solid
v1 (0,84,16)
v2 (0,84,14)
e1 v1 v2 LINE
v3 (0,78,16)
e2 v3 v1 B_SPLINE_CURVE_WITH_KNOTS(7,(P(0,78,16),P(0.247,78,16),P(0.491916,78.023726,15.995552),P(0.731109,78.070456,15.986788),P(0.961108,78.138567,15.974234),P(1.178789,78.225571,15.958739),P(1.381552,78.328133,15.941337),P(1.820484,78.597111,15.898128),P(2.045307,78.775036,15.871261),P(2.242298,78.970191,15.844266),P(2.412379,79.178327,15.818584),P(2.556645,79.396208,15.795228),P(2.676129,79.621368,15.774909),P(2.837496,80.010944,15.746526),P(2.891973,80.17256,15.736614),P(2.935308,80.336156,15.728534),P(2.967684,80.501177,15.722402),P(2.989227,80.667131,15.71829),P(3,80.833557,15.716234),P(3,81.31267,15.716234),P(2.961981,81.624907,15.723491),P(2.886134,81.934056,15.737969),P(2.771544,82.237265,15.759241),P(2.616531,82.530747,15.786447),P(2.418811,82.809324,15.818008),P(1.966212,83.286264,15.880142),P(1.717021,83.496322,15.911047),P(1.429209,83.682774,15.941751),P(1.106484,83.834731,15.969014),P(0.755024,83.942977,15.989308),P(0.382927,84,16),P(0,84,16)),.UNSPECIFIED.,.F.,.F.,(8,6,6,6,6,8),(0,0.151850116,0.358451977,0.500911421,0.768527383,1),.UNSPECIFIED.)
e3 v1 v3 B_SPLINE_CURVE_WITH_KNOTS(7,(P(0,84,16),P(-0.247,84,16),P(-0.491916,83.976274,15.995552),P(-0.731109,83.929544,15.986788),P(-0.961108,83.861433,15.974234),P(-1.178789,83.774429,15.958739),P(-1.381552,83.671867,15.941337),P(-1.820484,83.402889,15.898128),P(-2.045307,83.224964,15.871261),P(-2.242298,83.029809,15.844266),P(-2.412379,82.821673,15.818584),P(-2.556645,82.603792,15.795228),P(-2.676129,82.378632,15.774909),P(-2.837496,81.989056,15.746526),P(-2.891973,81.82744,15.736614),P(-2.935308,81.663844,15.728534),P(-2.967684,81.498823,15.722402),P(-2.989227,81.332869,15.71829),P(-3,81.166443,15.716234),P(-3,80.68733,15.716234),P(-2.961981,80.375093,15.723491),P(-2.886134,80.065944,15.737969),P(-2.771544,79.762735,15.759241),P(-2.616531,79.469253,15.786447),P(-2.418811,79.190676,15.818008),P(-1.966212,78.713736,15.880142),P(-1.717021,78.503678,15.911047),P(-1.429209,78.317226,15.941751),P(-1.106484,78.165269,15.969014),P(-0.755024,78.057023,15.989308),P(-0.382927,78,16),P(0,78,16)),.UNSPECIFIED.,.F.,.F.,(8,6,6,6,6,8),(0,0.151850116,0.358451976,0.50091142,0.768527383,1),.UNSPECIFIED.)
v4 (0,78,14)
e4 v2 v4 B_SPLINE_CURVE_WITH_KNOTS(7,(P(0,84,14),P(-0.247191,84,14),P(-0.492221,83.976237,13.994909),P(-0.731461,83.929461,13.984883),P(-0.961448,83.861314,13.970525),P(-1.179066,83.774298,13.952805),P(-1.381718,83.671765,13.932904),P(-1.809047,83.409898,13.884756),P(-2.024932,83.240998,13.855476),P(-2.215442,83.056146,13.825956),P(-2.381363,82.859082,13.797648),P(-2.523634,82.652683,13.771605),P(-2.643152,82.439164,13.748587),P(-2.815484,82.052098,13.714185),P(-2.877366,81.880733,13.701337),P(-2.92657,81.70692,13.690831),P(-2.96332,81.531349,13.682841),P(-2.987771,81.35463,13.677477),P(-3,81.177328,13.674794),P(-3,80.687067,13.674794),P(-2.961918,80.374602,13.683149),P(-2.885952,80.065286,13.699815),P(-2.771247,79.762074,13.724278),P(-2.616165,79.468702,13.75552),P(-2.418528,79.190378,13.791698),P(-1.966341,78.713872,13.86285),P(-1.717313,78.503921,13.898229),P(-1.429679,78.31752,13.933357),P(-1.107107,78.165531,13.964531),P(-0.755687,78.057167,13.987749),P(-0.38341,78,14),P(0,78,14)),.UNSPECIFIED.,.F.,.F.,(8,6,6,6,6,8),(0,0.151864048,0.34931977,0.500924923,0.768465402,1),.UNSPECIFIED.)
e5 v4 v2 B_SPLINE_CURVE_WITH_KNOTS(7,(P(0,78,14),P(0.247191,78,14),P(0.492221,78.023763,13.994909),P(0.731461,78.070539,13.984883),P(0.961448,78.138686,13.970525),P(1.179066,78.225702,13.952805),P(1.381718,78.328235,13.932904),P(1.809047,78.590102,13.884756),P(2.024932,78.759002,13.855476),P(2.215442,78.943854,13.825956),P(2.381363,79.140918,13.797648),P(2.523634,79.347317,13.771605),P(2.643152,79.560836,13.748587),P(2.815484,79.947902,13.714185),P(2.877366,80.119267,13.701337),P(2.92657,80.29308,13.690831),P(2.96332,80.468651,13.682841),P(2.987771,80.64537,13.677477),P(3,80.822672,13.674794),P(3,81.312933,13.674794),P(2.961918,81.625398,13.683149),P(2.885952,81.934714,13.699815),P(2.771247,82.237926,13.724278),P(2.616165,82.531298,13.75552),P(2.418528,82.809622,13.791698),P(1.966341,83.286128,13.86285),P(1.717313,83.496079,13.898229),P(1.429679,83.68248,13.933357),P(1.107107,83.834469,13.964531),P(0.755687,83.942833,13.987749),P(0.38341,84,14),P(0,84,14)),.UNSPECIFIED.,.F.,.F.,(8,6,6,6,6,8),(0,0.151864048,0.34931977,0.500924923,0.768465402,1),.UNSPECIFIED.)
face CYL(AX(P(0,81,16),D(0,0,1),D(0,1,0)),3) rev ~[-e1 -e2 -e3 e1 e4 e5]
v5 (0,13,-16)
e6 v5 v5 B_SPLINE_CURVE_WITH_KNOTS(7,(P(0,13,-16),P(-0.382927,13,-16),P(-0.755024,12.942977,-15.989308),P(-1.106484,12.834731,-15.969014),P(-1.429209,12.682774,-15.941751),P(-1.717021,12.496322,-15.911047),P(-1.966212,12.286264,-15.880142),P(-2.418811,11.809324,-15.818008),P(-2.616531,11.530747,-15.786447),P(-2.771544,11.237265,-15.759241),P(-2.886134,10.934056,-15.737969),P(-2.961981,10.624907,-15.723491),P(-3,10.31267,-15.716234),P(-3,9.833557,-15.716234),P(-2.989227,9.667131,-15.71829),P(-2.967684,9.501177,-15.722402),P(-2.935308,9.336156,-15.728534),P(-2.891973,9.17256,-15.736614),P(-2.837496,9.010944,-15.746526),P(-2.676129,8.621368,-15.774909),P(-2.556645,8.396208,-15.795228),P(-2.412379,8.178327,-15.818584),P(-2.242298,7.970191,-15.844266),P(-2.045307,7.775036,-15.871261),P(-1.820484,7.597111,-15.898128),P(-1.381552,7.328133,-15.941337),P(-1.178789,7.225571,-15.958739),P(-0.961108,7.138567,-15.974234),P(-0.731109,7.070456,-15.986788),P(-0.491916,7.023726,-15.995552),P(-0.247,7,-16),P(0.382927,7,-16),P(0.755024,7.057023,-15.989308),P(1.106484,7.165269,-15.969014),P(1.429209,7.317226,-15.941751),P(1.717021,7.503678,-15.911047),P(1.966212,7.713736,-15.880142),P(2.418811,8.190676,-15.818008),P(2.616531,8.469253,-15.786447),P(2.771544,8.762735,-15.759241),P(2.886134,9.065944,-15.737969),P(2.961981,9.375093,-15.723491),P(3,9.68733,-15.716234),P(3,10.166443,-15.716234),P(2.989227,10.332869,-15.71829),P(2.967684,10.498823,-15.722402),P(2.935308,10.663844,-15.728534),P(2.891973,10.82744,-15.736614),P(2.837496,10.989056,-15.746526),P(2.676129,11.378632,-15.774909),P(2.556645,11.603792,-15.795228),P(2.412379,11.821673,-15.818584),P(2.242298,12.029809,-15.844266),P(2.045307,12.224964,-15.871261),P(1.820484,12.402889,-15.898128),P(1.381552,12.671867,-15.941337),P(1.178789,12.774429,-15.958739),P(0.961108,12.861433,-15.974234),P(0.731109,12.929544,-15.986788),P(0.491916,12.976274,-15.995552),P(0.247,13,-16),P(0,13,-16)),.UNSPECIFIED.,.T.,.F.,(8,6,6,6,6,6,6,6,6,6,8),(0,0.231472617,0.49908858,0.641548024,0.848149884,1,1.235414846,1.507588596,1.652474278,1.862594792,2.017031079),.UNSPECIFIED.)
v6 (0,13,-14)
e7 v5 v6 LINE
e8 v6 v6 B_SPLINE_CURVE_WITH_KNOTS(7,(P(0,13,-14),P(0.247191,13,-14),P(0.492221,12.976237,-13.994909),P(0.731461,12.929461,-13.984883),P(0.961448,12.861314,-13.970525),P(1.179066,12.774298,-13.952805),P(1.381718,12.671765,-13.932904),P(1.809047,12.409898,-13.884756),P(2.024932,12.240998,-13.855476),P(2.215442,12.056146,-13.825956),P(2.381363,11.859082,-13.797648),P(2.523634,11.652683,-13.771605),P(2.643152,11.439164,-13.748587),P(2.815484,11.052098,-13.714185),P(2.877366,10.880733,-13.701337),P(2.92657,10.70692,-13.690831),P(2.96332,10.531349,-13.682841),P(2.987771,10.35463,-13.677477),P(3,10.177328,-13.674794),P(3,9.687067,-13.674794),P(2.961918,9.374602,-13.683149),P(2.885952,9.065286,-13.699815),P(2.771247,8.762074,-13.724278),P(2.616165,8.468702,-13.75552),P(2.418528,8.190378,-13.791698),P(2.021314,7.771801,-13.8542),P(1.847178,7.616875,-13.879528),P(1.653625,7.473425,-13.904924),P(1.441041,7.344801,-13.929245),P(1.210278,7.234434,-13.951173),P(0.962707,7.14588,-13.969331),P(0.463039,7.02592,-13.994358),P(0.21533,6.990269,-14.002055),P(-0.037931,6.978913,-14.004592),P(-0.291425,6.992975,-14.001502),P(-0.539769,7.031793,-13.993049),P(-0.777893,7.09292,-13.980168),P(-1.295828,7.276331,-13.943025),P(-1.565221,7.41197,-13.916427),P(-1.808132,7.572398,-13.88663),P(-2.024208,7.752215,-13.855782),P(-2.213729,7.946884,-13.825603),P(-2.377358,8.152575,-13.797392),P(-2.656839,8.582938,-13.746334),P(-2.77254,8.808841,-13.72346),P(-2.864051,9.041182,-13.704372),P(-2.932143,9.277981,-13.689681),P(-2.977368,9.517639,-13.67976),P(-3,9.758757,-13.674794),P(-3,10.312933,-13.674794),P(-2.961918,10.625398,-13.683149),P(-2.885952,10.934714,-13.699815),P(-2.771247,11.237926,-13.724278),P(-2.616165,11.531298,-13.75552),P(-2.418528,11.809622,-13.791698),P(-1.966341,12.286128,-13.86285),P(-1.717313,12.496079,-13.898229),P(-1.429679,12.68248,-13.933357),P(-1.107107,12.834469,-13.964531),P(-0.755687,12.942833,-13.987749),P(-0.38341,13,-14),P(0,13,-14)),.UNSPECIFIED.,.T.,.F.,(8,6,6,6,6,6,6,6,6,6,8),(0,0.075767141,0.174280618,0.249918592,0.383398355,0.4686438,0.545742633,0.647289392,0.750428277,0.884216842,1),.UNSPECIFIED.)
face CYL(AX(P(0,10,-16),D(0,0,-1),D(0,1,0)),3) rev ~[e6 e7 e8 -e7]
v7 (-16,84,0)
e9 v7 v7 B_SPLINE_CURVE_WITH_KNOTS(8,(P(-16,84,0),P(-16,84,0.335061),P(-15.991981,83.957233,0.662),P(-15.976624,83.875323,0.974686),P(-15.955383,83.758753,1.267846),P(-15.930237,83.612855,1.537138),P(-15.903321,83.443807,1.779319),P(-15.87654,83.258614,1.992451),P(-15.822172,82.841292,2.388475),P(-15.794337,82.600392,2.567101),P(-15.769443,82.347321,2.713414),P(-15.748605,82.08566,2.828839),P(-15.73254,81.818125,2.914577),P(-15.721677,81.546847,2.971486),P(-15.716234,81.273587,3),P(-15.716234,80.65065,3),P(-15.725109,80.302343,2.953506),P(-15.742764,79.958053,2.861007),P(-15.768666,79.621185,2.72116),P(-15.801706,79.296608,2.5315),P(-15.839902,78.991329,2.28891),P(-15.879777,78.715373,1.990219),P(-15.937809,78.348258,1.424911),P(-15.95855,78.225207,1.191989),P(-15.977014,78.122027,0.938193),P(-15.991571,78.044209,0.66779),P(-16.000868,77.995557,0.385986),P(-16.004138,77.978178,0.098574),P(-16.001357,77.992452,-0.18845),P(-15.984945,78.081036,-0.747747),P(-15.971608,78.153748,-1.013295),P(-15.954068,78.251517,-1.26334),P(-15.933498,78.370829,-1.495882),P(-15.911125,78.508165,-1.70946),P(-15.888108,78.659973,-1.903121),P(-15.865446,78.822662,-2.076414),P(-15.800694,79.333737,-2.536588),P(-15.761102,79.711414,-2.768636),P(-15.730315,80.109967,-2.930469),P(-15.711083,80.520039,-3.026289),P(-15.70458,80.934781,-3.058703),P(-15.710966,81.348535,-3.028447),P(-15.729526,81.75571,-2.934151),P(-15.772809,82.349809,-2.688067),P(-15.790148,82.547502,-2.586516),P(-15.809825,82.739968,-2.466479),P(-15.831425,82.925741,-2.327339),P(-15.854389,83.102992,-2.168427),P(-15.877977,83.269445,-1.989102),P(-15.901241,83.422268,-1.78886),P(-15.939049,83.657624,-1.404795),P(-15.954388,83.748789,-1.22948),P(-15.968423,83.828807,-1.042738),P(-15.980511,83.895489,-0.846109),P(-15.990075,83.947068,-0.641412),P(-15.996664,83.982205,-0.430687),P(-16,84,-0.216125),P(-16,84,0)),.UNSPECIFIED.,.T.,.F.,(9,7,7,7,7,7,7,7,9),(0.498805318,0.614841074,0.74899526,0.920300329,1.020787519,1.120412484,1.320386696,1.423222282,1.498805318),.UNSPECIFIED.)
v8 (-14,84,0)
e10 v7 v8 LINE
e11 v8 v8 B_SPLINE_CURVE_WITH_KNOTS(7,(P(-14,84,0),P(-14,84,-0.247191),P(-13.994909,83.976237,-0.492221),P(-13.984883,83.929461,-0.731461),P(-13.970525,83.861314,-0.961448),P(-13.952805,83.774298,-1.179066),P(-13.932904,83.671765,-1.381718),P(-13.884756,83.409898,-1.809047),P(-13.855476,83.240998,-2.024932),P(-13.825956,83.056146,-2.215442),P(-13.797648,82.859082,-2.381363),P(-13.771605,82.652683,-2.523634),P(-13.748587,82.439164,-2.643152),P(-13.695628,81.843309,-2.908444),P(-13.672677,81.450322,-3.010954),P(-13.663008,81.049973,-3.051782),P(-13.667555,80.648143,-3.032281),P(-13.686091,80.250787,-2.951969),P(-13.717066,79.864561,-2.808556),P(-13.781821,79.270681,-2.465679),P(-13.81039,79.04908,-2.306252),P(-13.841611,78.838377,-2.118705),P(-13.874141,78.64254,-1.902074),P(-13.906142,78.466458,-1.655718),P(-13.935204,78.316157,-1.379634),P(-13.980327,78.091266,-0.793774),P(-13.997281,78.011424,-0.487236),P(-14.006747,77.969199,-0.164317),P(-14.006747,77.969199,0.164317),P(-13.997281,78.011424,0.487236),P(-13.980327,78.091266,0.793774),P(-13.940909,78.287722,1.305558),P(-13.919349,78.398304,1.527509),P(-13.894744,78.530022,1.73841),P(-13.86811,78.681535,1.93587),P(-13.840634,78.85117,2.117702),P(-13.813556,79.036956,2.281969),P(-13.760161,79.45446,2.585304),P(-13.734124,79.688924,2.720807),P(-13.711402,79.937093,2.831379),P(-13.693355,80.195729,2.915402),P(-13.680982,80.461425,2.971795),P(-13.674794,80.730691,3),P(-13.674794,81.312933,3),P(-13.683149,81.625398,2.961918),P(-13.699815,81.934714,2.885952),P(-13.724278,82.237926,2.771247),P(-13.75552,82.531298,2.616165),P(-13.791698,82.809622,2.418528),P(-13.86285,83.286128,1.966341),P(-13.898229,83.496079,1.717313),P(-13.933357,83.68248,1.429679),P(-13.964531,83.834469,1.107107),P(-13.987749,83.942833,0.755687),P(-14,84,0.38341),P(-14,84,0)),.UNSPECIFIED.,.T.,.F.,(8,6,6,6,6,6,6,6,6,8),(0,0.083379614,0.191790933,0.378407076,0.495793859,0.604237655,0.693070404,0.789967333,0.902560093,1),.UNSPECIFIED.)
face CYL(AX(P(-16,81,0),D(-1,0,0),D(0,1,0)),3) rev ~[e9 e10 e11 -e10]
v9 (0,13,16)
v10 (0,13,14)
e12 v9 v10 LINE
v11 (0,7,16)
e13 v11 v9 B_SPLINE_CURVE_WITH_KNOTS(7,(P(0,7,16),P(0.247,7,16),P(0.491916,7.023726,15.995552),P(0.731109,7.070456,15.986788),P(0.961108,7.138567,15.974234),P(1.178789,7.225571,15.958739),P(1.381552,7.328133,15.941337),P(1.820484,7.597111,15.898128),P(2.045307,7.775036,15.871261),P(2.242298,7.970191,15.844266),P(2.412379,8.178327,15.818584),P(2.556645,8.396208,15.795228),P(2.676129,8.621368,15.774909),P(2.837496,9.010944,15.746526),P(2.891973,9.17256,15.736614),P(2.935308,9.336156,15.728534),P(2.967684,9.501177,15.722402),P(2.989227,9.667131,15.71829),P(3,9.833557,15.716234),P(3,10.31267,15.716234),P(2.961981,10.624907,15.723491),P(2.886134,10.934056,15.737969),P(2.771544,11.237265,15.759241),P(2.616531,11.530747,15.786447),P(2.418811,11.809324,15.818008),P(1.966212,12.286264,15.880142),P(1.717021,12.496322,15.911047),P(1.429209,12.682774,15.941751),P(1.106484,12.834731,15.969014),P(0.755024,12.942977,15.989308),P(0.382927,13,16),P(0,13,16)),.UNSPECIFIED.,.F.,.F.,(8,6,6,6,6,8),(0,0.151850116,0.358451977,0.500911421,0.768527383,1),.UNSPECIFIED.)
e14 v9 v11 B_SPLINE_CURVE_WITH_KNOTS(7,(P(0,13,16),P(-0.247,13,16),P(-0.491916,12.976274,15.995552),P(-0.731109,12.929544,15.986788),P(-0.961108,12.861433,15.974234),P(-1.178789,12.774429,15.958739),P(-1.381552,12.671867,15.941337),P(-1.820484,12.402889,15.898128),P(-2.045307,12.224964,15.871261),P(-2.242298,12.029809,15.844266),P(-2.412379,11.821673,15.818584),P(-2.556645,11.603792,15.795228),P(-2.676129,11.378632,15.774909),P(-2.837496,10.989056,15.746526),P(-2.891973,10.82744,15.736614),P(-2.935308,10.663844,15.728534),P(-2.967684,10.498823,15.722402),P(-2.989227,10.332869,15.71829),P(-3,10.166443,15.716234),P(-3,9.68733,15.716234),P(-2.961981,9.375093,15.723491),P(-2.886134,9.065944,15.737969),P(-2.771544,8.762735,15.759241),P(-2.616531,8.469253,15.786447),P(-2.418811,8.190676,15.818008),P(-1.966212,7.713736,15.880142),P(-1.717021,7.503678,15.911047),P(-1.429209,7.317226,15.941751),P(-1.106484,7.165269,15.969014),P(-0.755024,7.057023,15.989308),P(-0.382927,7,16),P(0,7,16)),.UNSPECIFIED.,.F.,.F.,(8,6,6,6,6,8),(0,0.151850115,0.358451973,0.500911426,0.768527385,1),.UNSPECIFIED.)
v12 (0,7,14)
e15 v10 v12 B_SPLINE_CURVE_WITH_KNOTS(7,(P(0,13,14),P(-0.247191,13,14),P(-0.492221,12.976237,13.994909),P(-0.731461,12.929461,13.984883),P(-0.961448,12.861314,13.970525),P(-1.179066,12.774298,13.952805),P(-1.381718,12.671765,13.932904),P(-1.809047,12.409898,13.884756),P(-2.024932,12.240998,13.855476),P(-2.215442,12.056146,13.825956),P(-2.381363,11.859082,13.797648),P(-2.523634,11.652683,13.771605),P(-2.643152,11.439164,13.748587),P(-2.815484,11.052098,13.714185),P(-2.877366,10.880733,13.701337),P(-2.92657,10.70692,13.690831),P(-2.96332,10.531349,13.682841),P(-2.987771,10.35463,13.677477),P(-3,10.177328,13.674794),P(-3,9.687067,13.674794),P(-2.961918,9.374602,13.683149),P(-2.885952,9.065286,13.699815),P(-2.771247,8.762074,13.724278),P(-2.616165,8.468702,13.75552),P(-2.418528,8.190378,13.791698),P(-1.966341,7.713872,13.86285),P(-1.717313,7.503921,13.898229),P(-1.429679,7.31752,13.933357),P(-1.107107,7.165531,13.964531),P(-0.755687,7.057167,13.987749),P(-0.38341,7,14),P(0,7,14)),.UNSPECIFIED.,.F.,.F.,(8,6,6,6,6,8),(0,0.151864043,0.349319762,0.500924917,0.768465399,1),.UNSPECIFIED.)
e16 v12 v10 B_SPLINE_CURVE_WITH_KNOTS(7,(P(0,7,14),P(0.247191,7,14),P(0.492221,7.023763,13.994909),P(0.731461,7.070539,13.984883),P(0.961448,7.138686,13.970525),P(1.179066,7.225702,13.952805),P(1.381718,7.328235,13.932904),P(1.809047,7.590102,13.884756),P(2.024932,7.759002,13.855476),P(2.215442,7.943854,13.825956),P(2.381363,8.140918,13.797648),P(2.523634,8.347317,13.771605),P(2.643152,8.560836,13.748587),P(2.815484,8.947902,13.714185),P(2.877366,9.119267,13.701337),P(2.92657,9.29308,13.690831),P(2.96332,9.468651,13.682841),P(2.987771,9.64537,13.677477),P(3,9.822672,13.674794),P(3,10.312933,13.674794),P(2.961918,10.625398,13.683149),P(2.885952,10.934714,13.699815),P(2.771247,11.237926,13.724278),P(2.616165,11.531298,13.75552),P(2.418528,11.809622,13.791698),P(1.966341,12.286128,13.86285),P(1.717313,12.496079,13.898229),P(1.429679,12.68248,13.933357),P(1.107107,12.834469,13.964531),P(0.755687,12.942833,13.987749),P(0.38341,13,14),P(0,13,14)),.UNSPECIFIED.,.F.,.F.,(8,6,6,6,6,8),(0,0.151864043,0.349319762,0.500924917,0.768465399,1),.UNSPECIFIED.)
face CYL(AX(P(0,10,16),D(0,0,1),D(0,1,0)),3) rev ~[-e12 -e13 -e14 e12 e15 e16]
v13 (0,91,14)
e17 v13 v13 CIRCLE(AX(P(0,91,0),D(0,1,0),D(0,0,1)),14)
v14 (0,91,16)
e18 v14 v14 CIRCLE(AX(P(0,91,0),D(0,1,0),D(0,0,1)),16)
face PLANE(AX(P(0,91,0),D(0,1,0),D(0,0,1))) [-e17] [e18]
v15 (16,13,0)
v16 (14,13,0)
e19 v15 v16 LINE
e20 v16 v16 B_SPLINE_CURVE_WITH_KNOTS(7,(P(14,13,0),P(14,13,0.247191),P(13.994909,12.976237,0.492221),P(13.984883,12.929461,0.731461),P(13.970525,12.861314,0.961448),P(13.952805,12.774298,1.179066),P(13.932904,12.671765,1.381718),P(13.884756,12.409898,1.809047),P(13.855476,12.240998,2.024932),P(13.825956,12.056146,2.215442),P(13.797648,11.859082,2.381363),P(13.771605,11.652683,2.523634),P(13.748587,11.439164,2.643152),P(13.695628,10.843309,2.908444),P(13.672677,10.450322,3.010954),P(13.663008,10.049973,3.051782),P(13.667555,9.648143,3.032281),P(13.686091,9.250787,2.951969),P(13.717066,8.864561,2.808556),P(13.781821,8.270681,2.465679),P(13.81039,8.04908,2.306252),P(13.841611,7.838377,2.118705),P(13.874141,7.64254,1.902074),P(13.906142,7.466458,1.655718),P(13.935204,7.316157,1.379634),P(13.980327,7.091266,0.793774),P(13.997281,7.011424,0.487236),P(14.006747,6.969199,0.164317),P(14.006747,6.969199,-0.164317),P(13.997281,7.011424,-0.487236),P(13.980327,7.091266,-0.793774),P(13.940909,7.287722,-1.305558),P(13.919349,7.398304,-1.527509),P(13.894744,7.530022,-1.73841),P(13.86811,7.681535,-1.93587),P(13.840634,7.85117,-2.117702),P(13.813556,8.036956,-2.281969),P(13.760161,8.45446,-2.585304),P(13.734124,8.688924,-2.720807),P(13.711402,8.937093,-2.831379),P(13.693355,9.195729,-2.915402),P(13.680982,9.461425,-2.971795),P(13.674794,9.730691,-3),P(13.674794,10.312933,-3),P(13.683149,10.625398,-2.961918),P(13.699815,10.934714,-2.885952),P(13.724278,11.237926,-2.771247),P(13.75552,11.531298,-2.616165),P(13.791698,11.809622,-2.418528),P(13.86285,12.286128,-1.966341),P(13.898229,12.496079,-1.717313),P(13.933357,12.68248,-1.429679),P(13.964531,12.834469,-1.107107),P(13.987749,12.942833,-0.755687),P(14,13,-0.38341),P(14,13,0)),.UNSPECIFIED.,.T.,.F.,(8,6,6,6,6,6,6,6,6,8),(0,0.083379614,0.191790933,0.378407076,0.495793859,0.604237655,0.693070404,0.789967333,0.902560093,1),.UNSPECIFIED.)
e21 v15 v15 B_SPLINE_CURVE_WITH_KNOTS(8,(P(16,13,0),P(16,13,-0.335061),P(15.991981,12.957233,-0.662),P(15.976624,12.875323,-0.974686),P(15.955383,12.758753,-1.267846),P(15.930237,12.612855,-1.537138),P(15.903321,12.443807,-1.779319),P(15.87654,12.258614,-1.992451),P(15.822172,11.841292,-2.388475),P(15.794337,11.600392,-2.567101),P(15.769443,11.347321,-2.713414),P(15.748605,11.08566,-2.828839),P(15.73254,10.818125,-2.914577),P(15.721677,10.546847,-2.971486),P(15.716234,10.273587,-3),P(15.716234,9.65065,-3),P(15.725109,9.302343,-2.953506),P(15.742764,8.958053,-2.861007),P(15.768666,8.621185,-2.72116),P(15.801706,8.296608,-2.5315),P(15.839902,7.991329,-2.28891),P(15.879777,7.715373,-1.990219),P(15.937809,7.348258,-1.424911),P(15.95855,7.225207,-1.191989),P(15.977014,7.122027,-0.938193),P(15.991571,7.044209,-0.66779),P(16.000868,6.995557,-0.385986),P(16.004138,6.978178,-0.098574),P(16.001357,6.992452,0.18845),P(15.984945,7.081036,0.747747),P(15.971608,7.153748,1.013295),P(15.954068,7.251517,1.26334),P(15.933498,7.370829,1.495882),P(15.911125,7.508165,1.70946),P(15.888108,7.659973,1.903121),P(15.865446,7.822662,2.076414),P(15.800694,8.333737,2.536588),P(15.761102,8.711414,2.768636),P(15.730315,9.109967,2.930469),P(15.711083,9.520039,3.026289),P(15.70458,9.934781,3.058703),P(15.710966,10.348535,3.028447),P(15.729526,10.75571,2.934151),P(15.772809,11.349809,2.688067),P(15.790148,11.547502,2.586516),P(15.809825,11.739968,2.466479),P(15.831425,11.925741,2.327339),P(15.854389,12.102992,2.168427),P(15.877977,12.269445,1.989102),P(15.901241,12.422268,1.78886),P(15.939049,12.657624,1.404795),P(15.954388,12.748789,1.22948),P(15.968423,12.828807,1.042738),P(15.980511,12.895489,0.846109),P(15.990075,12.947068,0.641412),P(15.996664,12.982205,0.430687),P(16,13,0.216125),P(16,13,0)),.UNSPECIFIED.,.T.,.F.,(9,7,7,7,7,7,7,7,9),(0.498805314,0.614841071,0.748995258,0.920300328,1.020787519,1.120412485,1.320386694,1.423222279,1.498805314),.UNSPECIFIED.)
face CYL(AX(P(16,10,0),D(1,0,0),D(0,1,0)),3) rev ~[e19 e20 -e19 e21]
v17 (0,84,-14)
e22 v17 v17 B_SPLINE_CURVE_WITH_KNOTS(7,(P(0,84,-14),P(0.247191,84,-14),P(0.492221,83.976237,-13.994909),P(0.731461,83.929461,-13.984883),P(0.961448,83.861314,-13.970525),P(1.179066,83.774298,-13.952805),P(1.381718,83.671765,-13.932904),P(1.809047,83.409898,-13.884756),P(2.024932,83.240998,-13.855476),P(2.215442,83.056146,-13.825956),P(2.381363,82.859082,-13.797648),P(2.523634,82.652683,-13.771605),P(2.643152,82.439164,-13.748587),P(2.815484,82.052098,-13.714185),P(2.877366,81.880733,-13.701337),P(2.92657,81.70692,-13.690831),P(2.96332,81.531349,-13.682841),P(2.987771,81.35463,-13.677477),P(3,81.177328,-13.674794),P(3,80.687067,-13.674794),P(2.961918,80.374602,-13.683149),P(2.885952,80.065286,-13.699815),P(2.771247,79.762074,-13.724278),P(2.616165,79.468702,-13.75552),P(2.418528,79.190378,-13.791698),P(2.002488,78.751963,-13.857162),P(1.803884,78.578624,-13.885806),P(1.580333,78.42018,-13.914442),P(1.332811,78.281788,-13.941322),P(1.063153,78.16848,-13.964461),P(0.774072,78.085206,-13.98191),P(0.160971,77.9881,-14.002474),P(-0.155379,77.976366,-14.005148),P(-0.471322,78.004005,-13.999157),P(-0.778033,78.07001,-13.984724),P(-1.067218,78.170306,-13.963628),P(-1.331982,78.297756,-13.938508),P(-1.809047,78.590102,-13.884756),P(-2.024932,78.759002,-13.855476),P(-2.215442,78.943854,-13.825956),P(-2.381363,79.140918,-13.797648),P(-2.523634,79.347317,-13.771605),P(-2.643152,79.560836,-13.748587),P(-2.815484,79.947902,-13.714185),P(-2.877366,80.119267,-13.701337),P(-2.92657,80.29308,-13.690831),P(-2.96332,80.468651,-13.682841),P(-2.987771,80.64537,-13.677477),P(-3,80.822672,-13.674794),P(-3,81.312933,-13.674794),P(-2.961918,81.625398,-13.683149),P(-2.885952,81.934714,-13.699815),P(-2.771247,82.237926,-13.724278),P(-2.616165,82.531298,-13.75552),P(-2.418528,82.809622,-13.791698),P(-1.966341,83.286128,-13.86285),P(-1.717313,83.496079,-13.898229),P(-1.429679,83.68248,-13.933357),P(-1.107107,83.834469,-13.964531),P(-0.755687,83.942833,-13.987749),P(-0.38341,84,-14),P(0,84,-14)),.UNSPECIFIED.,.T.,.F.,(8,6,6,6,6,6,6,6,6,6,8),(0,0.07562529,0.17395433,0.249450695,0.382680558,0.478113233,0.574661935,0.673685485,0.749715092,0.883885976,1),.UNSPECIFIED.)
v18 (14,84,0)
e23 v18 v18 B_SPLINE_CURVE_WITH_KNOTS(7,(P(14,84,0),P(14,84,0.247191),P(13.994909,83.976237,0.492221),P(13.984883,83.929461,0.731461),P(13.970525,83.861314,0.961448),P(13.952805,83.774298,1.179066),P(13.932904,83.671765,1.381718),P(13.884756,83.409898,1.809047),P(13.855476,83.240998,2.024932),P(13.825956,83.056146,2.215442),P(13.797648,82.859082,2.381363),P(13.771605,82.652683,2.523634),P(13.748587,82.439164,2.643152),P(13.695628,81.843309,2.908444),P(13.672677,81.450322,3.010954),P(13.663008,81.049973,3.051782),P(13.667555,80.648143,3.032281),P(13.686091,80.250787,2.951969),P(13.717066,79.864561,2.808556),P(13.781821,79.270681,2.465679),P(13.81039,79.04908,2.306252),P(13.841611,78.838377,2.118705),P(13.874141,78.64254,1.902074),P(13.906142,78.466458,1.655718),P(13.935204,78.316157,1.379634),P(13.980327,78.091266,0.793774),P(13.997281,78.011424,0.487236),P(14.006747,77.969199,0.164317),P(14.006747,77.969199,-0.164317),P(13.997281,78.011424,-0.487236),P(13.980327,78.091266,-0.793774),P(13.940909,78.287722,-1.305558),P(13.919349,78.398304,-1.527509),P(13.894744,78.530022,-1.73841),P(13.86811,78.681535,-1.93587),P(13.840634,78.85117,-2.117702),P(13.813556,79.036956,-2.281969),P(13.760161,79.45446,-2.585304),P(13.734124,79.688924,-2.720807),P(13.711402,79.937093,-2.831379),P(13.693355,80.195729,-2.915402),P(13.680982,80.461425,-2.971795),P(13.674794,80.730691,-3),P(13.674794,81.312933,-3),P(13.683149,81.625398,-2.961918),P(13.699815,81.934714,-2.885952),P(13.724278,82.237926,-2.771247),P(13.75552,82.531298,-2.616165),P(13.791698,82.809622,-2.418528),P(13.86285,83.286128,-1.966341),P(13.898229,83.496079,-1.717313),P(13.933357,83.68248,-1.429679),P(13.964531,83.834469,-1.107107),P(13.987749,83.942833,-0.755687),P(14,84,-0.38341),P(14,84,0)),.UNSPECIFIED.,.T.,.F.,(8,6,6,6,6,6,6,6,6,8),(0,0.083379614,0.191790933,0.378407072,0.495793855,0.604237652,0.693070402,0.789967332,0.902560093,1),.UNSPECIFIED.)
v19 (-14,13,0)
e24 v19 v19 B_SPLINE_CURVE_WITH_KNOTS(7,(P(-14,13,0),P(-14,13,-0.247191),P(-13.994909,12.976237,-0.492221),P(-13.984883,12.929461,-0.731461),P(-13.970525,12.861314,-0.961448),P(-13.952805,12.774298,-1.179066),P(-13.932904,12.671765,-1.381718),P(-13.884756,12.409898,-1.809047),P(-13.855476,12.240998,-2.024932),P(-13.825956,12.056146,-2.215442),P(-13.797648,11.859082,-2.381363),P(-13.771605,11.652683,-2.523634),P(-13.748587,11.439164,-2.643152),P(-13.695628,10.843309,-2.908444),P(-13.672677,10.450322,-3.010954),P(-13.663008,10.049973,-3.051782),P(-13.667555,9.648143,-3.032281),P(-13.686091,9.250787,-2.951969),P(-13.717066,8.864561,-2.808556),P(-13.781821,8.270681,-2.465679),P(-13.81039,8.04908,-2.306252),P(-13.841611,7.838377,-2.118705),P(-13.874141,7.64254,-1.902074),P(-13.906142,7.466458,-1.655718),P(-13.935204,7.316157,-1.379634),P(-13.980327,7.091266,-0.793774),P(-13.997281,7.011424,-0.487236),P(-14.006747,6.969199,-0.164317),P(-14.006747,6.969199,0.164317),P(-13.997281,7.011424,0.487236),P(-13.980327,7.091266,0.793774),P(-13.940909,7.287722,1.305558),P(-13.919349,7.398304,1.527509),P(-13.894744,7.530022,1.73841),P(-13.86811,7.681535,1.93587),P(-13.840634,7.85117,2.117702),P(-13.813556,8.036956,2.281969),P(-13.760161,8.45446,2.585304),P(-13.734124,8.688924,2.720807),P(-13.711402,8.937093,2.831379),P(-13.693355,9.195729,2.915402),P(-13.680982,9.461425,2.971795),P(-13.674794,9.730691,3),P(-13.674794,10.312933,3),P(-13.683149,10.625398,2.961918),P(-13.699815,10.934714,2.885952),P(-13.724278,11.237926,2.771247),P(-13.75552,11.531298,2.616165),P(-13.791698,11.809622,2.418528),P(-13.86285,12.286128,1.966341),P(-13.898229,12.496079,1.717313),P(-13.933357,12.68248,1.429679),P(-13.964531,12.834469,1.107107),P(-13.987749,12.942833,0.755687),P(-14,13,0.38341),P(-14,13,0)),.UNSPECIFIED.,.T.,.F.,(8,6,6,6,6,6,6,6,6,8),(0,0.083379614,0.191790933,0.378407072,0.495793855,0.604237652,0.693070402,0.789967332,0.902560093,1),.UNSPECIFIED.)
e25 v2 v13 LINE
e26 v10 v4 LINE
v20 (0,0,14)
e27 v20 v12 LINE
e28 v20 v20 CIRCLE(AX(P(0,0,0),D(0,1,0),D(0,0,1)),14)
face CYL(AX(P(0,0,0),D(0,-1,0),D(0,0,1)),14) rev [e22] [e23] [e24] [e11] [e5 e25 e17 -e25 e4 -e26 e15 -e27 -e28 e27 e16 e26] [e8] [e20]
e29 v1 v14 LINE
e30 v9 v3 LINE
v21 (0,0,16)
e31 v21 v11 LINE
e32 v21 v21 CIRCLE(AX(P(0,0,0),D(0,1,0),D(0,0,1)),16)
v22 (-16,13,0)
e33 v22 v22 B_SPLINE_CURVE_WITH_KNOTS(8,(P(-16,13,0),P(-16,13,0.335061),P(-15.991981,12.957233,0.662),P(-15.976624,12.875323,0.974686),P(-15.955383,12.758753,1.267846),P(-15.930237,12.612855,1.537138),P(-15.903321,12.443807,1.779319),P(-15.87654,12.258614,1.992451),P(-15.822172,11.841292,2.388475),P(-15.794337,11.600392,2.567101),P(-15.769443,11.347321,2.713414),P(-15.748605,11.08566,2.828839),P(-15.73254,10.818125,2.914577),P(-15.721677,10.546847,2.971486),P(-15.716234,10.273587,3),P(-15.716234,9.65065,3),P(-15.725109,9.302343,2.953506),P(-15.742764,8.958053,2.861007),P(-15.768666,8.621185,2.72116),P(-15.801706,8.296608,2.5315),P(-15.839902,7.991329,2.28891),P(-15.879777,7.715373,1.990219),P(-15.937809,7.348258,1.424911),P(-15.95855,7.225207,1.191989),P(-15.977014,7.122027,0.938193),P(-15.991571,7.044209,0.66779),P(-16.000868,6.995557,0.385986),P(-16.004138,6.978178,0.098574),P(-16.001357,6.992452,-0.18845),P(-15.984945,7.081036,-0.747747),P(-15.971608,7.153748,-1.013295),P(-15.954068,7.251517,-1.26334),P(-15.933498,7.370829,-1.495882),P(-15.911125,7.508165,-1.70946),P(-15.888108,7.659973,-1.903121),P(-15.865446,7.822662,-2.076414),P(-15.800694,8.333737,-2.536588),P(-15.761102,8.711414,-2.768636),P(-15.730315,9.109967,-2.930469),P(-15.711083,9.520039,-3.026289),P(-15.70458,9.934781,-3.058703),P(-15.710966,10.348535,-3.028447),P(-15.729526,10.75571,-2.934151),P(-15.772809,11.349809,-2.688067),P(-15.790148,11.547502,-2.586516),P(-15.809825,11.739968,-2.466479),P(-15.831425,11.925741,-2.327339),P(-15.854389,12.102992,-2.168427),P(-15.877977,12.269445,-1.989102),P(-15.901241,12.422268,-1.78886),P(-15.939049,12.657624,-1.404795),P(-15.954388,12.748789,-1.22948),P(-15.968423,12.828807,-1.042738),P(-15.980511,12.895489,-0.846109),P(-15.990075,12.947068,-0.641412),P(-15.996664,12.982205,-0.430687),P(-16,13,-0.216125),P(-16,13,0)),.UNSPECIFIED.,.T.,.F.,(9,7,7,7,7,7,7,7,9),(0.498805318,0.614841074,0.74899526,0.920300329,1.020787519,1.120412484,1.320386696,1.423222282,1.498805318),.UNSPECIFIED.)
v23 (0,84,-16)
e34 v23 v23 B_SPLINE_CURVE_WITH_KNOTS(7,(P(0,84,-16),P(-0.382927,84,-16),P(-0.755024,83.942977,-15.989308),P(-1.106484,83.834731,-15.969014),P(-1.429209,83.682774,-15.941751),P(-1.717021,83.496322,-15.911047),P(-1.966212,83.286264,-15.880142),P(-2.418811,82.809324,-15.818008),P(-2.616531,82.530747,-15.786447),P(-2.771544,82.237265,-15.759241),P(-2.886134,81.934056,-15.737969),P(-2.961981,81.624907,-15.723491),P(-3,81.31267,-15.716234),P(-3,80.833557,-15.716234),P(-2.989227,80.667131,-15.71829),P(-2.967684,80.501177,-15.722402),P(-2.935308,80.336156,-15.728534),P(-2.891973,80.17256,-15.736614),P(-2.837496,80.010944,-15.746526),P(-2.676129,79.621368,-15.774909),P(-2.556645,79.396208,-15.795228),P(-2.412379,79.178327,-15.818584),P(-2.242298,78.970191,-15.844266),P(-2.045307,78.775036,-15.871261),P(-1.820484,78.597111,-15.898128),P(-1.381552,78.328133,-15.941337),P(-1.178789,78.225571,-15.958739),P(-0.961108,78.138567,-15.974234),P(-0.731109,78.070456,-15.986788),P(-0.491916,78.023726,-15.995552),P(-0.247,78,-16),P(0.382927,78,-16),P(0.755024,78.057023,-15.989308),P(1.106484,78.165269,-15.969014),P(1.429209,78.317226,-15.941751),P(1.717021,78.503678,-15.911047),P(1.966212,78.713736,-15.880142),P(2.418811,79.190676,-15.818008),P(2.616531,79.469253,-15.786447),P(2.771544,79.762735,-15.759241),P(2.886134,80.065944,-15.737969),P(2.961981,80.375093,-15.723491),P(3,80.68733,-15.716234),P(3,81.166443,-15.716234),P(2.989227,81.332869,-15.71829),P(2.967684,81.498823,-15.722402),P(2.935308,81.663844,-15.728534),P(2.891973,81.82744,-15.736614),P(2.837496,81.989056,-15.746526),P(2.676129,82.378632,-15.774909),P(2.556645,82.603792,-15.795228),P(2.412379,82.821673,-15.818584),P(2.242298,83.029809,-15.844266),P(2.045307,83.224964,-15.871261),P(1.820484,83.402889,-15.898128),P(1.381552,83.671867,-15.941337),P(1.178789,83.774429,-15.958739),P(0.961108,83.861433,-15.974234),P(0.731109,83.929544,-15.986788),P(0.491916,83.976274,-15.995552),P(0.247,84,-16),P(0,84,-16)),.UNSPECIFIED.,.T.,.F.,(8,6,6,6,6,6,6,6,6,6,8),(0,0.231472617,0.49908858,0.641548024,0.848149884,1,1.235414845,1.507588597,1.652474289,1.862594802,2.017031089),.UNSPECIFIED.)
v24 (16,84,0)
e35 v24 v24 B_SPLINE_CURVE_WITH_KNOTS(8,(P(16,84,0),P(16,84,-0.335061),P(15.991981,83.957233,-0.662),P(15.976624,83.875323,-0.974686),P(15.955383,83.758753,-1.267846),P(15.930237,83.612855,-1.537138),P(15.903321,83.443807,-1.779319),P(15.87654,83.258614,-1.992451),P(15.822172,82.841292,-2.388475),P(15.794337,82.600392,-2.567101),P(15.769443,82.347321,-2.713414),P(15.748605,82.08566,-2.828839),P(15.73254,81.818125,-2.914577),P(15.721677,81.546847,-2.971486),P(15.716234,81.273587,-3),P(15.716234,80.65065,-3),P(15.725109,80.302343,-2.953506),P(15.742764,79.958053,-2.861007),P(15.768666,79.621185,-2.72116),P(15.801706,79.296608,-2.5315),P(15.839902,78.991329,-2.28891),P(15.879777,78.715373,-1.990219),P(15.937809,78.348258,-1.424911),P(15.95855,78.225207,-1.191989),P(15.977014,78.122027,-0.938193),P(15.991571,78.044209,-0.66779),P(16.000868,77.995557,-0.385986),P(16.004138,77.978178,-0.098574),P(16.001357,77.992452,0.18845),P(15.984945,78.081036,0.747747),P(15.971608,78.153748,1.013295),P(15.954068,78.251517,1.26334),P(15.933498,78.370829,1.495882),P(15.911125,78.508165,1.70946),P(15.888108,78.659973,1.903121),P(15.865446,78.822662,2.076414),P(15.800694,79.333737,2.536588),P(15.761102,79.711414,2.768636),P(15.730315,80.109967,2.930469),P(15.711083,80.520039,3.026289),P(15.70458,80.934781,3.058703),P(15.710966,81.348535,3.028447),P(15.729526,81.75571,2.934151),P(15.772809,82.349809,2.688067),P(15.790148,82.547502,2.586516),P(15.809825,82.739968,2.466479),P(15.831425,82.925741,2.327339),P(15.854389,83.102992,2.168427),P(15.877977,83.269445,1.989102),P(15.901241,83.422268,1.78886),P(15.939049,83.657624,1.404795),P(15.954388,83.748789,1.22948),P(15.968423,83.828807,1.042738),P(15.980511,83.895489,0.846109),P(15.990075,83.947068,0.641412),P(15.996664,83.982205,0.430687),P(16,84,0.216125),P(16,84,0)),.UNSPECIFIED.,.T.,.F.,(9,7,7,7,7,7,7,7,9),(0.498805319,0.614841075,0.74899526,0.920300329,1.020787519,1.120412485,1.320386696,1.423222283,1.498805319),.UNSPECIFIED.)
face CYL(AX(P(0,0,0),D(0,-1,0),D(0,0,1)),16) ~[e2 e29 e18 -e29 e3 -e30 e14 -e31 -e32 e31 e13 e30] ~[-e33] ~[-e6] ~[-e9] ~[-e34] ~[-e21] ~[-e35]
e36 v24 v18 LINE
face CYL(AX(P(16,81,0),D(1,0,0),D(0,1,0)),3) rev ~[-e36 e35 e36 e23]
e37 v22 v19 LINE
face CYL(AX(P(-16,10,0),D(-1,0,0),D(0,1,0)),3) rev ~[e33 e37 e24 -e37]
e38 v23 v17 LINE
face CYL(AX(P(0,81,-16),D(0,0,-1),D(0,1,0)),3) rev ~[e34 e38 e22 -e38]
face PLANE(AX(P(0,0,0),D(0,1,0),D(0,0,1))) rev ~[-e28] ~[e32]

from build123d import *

# Parameters (mm, degrees)
SKETCH1_R           = 16
SKETCH1_R_2         = 14
BOSS_EXTRUDE1_DEPTH = 91
SKETCH2_R           = 3
CUT_EXTRUDE1_DEPTH  = 10
CIRPATTERN1_COUNT   = 4


with BuildPart() as part:
    # Sketch1 → Boss-Extrude1 (new body)
    with BuildSketch(Plane(origin=(0, 0, 0), x_dir=(1, 0, 0), z_dir=(0, 1, 0))):
        with Locations(Location((0, 0, 0), (0, 0, 270))):
            Circle(SKETCH1_R)
        with Locations(Location((0, 0, 0), (0, 0, 270))):
            Circle(SKETCH1_R_2, mode=Mode.SUBTRACT)
    extrude(amount=BOSS_EXTRUDE1_DEPTH)

    # Sketch2 → Cut-Extrude1 (cut)
    with BuildSketch(Plane(origin=(0, 0, -16), x_dir=(-1, 0, 0), z_dir=(0, 0, -1))):
        with Locations(Location((0, 10, 0), (0, 0, 90))):
            Circle(SKETCH2_R)
        with Locations(Location((0, 81, 0), (0, 0, 90))):
            Circle(SKETCH2_R)
    cut_extrude1 = extrude(amount=-CUT_EXTRUDE1_DEPTH, mode=Mode.SUBTRACT)

    # CirPattern1: Cut-Extrude1 ×4 about axis
    cirpattern1_axis = Axis((0, 91, 0), (0, -1, 0))
    for i in range(1, CIRPATTERN1_COUNT):
        add(cut_extrude1.rotate(cirpattern1_axis, i * 360 / CIRPATTERN1_COUNT), mode=Mode.SUBTRACT)


solid = part.part
